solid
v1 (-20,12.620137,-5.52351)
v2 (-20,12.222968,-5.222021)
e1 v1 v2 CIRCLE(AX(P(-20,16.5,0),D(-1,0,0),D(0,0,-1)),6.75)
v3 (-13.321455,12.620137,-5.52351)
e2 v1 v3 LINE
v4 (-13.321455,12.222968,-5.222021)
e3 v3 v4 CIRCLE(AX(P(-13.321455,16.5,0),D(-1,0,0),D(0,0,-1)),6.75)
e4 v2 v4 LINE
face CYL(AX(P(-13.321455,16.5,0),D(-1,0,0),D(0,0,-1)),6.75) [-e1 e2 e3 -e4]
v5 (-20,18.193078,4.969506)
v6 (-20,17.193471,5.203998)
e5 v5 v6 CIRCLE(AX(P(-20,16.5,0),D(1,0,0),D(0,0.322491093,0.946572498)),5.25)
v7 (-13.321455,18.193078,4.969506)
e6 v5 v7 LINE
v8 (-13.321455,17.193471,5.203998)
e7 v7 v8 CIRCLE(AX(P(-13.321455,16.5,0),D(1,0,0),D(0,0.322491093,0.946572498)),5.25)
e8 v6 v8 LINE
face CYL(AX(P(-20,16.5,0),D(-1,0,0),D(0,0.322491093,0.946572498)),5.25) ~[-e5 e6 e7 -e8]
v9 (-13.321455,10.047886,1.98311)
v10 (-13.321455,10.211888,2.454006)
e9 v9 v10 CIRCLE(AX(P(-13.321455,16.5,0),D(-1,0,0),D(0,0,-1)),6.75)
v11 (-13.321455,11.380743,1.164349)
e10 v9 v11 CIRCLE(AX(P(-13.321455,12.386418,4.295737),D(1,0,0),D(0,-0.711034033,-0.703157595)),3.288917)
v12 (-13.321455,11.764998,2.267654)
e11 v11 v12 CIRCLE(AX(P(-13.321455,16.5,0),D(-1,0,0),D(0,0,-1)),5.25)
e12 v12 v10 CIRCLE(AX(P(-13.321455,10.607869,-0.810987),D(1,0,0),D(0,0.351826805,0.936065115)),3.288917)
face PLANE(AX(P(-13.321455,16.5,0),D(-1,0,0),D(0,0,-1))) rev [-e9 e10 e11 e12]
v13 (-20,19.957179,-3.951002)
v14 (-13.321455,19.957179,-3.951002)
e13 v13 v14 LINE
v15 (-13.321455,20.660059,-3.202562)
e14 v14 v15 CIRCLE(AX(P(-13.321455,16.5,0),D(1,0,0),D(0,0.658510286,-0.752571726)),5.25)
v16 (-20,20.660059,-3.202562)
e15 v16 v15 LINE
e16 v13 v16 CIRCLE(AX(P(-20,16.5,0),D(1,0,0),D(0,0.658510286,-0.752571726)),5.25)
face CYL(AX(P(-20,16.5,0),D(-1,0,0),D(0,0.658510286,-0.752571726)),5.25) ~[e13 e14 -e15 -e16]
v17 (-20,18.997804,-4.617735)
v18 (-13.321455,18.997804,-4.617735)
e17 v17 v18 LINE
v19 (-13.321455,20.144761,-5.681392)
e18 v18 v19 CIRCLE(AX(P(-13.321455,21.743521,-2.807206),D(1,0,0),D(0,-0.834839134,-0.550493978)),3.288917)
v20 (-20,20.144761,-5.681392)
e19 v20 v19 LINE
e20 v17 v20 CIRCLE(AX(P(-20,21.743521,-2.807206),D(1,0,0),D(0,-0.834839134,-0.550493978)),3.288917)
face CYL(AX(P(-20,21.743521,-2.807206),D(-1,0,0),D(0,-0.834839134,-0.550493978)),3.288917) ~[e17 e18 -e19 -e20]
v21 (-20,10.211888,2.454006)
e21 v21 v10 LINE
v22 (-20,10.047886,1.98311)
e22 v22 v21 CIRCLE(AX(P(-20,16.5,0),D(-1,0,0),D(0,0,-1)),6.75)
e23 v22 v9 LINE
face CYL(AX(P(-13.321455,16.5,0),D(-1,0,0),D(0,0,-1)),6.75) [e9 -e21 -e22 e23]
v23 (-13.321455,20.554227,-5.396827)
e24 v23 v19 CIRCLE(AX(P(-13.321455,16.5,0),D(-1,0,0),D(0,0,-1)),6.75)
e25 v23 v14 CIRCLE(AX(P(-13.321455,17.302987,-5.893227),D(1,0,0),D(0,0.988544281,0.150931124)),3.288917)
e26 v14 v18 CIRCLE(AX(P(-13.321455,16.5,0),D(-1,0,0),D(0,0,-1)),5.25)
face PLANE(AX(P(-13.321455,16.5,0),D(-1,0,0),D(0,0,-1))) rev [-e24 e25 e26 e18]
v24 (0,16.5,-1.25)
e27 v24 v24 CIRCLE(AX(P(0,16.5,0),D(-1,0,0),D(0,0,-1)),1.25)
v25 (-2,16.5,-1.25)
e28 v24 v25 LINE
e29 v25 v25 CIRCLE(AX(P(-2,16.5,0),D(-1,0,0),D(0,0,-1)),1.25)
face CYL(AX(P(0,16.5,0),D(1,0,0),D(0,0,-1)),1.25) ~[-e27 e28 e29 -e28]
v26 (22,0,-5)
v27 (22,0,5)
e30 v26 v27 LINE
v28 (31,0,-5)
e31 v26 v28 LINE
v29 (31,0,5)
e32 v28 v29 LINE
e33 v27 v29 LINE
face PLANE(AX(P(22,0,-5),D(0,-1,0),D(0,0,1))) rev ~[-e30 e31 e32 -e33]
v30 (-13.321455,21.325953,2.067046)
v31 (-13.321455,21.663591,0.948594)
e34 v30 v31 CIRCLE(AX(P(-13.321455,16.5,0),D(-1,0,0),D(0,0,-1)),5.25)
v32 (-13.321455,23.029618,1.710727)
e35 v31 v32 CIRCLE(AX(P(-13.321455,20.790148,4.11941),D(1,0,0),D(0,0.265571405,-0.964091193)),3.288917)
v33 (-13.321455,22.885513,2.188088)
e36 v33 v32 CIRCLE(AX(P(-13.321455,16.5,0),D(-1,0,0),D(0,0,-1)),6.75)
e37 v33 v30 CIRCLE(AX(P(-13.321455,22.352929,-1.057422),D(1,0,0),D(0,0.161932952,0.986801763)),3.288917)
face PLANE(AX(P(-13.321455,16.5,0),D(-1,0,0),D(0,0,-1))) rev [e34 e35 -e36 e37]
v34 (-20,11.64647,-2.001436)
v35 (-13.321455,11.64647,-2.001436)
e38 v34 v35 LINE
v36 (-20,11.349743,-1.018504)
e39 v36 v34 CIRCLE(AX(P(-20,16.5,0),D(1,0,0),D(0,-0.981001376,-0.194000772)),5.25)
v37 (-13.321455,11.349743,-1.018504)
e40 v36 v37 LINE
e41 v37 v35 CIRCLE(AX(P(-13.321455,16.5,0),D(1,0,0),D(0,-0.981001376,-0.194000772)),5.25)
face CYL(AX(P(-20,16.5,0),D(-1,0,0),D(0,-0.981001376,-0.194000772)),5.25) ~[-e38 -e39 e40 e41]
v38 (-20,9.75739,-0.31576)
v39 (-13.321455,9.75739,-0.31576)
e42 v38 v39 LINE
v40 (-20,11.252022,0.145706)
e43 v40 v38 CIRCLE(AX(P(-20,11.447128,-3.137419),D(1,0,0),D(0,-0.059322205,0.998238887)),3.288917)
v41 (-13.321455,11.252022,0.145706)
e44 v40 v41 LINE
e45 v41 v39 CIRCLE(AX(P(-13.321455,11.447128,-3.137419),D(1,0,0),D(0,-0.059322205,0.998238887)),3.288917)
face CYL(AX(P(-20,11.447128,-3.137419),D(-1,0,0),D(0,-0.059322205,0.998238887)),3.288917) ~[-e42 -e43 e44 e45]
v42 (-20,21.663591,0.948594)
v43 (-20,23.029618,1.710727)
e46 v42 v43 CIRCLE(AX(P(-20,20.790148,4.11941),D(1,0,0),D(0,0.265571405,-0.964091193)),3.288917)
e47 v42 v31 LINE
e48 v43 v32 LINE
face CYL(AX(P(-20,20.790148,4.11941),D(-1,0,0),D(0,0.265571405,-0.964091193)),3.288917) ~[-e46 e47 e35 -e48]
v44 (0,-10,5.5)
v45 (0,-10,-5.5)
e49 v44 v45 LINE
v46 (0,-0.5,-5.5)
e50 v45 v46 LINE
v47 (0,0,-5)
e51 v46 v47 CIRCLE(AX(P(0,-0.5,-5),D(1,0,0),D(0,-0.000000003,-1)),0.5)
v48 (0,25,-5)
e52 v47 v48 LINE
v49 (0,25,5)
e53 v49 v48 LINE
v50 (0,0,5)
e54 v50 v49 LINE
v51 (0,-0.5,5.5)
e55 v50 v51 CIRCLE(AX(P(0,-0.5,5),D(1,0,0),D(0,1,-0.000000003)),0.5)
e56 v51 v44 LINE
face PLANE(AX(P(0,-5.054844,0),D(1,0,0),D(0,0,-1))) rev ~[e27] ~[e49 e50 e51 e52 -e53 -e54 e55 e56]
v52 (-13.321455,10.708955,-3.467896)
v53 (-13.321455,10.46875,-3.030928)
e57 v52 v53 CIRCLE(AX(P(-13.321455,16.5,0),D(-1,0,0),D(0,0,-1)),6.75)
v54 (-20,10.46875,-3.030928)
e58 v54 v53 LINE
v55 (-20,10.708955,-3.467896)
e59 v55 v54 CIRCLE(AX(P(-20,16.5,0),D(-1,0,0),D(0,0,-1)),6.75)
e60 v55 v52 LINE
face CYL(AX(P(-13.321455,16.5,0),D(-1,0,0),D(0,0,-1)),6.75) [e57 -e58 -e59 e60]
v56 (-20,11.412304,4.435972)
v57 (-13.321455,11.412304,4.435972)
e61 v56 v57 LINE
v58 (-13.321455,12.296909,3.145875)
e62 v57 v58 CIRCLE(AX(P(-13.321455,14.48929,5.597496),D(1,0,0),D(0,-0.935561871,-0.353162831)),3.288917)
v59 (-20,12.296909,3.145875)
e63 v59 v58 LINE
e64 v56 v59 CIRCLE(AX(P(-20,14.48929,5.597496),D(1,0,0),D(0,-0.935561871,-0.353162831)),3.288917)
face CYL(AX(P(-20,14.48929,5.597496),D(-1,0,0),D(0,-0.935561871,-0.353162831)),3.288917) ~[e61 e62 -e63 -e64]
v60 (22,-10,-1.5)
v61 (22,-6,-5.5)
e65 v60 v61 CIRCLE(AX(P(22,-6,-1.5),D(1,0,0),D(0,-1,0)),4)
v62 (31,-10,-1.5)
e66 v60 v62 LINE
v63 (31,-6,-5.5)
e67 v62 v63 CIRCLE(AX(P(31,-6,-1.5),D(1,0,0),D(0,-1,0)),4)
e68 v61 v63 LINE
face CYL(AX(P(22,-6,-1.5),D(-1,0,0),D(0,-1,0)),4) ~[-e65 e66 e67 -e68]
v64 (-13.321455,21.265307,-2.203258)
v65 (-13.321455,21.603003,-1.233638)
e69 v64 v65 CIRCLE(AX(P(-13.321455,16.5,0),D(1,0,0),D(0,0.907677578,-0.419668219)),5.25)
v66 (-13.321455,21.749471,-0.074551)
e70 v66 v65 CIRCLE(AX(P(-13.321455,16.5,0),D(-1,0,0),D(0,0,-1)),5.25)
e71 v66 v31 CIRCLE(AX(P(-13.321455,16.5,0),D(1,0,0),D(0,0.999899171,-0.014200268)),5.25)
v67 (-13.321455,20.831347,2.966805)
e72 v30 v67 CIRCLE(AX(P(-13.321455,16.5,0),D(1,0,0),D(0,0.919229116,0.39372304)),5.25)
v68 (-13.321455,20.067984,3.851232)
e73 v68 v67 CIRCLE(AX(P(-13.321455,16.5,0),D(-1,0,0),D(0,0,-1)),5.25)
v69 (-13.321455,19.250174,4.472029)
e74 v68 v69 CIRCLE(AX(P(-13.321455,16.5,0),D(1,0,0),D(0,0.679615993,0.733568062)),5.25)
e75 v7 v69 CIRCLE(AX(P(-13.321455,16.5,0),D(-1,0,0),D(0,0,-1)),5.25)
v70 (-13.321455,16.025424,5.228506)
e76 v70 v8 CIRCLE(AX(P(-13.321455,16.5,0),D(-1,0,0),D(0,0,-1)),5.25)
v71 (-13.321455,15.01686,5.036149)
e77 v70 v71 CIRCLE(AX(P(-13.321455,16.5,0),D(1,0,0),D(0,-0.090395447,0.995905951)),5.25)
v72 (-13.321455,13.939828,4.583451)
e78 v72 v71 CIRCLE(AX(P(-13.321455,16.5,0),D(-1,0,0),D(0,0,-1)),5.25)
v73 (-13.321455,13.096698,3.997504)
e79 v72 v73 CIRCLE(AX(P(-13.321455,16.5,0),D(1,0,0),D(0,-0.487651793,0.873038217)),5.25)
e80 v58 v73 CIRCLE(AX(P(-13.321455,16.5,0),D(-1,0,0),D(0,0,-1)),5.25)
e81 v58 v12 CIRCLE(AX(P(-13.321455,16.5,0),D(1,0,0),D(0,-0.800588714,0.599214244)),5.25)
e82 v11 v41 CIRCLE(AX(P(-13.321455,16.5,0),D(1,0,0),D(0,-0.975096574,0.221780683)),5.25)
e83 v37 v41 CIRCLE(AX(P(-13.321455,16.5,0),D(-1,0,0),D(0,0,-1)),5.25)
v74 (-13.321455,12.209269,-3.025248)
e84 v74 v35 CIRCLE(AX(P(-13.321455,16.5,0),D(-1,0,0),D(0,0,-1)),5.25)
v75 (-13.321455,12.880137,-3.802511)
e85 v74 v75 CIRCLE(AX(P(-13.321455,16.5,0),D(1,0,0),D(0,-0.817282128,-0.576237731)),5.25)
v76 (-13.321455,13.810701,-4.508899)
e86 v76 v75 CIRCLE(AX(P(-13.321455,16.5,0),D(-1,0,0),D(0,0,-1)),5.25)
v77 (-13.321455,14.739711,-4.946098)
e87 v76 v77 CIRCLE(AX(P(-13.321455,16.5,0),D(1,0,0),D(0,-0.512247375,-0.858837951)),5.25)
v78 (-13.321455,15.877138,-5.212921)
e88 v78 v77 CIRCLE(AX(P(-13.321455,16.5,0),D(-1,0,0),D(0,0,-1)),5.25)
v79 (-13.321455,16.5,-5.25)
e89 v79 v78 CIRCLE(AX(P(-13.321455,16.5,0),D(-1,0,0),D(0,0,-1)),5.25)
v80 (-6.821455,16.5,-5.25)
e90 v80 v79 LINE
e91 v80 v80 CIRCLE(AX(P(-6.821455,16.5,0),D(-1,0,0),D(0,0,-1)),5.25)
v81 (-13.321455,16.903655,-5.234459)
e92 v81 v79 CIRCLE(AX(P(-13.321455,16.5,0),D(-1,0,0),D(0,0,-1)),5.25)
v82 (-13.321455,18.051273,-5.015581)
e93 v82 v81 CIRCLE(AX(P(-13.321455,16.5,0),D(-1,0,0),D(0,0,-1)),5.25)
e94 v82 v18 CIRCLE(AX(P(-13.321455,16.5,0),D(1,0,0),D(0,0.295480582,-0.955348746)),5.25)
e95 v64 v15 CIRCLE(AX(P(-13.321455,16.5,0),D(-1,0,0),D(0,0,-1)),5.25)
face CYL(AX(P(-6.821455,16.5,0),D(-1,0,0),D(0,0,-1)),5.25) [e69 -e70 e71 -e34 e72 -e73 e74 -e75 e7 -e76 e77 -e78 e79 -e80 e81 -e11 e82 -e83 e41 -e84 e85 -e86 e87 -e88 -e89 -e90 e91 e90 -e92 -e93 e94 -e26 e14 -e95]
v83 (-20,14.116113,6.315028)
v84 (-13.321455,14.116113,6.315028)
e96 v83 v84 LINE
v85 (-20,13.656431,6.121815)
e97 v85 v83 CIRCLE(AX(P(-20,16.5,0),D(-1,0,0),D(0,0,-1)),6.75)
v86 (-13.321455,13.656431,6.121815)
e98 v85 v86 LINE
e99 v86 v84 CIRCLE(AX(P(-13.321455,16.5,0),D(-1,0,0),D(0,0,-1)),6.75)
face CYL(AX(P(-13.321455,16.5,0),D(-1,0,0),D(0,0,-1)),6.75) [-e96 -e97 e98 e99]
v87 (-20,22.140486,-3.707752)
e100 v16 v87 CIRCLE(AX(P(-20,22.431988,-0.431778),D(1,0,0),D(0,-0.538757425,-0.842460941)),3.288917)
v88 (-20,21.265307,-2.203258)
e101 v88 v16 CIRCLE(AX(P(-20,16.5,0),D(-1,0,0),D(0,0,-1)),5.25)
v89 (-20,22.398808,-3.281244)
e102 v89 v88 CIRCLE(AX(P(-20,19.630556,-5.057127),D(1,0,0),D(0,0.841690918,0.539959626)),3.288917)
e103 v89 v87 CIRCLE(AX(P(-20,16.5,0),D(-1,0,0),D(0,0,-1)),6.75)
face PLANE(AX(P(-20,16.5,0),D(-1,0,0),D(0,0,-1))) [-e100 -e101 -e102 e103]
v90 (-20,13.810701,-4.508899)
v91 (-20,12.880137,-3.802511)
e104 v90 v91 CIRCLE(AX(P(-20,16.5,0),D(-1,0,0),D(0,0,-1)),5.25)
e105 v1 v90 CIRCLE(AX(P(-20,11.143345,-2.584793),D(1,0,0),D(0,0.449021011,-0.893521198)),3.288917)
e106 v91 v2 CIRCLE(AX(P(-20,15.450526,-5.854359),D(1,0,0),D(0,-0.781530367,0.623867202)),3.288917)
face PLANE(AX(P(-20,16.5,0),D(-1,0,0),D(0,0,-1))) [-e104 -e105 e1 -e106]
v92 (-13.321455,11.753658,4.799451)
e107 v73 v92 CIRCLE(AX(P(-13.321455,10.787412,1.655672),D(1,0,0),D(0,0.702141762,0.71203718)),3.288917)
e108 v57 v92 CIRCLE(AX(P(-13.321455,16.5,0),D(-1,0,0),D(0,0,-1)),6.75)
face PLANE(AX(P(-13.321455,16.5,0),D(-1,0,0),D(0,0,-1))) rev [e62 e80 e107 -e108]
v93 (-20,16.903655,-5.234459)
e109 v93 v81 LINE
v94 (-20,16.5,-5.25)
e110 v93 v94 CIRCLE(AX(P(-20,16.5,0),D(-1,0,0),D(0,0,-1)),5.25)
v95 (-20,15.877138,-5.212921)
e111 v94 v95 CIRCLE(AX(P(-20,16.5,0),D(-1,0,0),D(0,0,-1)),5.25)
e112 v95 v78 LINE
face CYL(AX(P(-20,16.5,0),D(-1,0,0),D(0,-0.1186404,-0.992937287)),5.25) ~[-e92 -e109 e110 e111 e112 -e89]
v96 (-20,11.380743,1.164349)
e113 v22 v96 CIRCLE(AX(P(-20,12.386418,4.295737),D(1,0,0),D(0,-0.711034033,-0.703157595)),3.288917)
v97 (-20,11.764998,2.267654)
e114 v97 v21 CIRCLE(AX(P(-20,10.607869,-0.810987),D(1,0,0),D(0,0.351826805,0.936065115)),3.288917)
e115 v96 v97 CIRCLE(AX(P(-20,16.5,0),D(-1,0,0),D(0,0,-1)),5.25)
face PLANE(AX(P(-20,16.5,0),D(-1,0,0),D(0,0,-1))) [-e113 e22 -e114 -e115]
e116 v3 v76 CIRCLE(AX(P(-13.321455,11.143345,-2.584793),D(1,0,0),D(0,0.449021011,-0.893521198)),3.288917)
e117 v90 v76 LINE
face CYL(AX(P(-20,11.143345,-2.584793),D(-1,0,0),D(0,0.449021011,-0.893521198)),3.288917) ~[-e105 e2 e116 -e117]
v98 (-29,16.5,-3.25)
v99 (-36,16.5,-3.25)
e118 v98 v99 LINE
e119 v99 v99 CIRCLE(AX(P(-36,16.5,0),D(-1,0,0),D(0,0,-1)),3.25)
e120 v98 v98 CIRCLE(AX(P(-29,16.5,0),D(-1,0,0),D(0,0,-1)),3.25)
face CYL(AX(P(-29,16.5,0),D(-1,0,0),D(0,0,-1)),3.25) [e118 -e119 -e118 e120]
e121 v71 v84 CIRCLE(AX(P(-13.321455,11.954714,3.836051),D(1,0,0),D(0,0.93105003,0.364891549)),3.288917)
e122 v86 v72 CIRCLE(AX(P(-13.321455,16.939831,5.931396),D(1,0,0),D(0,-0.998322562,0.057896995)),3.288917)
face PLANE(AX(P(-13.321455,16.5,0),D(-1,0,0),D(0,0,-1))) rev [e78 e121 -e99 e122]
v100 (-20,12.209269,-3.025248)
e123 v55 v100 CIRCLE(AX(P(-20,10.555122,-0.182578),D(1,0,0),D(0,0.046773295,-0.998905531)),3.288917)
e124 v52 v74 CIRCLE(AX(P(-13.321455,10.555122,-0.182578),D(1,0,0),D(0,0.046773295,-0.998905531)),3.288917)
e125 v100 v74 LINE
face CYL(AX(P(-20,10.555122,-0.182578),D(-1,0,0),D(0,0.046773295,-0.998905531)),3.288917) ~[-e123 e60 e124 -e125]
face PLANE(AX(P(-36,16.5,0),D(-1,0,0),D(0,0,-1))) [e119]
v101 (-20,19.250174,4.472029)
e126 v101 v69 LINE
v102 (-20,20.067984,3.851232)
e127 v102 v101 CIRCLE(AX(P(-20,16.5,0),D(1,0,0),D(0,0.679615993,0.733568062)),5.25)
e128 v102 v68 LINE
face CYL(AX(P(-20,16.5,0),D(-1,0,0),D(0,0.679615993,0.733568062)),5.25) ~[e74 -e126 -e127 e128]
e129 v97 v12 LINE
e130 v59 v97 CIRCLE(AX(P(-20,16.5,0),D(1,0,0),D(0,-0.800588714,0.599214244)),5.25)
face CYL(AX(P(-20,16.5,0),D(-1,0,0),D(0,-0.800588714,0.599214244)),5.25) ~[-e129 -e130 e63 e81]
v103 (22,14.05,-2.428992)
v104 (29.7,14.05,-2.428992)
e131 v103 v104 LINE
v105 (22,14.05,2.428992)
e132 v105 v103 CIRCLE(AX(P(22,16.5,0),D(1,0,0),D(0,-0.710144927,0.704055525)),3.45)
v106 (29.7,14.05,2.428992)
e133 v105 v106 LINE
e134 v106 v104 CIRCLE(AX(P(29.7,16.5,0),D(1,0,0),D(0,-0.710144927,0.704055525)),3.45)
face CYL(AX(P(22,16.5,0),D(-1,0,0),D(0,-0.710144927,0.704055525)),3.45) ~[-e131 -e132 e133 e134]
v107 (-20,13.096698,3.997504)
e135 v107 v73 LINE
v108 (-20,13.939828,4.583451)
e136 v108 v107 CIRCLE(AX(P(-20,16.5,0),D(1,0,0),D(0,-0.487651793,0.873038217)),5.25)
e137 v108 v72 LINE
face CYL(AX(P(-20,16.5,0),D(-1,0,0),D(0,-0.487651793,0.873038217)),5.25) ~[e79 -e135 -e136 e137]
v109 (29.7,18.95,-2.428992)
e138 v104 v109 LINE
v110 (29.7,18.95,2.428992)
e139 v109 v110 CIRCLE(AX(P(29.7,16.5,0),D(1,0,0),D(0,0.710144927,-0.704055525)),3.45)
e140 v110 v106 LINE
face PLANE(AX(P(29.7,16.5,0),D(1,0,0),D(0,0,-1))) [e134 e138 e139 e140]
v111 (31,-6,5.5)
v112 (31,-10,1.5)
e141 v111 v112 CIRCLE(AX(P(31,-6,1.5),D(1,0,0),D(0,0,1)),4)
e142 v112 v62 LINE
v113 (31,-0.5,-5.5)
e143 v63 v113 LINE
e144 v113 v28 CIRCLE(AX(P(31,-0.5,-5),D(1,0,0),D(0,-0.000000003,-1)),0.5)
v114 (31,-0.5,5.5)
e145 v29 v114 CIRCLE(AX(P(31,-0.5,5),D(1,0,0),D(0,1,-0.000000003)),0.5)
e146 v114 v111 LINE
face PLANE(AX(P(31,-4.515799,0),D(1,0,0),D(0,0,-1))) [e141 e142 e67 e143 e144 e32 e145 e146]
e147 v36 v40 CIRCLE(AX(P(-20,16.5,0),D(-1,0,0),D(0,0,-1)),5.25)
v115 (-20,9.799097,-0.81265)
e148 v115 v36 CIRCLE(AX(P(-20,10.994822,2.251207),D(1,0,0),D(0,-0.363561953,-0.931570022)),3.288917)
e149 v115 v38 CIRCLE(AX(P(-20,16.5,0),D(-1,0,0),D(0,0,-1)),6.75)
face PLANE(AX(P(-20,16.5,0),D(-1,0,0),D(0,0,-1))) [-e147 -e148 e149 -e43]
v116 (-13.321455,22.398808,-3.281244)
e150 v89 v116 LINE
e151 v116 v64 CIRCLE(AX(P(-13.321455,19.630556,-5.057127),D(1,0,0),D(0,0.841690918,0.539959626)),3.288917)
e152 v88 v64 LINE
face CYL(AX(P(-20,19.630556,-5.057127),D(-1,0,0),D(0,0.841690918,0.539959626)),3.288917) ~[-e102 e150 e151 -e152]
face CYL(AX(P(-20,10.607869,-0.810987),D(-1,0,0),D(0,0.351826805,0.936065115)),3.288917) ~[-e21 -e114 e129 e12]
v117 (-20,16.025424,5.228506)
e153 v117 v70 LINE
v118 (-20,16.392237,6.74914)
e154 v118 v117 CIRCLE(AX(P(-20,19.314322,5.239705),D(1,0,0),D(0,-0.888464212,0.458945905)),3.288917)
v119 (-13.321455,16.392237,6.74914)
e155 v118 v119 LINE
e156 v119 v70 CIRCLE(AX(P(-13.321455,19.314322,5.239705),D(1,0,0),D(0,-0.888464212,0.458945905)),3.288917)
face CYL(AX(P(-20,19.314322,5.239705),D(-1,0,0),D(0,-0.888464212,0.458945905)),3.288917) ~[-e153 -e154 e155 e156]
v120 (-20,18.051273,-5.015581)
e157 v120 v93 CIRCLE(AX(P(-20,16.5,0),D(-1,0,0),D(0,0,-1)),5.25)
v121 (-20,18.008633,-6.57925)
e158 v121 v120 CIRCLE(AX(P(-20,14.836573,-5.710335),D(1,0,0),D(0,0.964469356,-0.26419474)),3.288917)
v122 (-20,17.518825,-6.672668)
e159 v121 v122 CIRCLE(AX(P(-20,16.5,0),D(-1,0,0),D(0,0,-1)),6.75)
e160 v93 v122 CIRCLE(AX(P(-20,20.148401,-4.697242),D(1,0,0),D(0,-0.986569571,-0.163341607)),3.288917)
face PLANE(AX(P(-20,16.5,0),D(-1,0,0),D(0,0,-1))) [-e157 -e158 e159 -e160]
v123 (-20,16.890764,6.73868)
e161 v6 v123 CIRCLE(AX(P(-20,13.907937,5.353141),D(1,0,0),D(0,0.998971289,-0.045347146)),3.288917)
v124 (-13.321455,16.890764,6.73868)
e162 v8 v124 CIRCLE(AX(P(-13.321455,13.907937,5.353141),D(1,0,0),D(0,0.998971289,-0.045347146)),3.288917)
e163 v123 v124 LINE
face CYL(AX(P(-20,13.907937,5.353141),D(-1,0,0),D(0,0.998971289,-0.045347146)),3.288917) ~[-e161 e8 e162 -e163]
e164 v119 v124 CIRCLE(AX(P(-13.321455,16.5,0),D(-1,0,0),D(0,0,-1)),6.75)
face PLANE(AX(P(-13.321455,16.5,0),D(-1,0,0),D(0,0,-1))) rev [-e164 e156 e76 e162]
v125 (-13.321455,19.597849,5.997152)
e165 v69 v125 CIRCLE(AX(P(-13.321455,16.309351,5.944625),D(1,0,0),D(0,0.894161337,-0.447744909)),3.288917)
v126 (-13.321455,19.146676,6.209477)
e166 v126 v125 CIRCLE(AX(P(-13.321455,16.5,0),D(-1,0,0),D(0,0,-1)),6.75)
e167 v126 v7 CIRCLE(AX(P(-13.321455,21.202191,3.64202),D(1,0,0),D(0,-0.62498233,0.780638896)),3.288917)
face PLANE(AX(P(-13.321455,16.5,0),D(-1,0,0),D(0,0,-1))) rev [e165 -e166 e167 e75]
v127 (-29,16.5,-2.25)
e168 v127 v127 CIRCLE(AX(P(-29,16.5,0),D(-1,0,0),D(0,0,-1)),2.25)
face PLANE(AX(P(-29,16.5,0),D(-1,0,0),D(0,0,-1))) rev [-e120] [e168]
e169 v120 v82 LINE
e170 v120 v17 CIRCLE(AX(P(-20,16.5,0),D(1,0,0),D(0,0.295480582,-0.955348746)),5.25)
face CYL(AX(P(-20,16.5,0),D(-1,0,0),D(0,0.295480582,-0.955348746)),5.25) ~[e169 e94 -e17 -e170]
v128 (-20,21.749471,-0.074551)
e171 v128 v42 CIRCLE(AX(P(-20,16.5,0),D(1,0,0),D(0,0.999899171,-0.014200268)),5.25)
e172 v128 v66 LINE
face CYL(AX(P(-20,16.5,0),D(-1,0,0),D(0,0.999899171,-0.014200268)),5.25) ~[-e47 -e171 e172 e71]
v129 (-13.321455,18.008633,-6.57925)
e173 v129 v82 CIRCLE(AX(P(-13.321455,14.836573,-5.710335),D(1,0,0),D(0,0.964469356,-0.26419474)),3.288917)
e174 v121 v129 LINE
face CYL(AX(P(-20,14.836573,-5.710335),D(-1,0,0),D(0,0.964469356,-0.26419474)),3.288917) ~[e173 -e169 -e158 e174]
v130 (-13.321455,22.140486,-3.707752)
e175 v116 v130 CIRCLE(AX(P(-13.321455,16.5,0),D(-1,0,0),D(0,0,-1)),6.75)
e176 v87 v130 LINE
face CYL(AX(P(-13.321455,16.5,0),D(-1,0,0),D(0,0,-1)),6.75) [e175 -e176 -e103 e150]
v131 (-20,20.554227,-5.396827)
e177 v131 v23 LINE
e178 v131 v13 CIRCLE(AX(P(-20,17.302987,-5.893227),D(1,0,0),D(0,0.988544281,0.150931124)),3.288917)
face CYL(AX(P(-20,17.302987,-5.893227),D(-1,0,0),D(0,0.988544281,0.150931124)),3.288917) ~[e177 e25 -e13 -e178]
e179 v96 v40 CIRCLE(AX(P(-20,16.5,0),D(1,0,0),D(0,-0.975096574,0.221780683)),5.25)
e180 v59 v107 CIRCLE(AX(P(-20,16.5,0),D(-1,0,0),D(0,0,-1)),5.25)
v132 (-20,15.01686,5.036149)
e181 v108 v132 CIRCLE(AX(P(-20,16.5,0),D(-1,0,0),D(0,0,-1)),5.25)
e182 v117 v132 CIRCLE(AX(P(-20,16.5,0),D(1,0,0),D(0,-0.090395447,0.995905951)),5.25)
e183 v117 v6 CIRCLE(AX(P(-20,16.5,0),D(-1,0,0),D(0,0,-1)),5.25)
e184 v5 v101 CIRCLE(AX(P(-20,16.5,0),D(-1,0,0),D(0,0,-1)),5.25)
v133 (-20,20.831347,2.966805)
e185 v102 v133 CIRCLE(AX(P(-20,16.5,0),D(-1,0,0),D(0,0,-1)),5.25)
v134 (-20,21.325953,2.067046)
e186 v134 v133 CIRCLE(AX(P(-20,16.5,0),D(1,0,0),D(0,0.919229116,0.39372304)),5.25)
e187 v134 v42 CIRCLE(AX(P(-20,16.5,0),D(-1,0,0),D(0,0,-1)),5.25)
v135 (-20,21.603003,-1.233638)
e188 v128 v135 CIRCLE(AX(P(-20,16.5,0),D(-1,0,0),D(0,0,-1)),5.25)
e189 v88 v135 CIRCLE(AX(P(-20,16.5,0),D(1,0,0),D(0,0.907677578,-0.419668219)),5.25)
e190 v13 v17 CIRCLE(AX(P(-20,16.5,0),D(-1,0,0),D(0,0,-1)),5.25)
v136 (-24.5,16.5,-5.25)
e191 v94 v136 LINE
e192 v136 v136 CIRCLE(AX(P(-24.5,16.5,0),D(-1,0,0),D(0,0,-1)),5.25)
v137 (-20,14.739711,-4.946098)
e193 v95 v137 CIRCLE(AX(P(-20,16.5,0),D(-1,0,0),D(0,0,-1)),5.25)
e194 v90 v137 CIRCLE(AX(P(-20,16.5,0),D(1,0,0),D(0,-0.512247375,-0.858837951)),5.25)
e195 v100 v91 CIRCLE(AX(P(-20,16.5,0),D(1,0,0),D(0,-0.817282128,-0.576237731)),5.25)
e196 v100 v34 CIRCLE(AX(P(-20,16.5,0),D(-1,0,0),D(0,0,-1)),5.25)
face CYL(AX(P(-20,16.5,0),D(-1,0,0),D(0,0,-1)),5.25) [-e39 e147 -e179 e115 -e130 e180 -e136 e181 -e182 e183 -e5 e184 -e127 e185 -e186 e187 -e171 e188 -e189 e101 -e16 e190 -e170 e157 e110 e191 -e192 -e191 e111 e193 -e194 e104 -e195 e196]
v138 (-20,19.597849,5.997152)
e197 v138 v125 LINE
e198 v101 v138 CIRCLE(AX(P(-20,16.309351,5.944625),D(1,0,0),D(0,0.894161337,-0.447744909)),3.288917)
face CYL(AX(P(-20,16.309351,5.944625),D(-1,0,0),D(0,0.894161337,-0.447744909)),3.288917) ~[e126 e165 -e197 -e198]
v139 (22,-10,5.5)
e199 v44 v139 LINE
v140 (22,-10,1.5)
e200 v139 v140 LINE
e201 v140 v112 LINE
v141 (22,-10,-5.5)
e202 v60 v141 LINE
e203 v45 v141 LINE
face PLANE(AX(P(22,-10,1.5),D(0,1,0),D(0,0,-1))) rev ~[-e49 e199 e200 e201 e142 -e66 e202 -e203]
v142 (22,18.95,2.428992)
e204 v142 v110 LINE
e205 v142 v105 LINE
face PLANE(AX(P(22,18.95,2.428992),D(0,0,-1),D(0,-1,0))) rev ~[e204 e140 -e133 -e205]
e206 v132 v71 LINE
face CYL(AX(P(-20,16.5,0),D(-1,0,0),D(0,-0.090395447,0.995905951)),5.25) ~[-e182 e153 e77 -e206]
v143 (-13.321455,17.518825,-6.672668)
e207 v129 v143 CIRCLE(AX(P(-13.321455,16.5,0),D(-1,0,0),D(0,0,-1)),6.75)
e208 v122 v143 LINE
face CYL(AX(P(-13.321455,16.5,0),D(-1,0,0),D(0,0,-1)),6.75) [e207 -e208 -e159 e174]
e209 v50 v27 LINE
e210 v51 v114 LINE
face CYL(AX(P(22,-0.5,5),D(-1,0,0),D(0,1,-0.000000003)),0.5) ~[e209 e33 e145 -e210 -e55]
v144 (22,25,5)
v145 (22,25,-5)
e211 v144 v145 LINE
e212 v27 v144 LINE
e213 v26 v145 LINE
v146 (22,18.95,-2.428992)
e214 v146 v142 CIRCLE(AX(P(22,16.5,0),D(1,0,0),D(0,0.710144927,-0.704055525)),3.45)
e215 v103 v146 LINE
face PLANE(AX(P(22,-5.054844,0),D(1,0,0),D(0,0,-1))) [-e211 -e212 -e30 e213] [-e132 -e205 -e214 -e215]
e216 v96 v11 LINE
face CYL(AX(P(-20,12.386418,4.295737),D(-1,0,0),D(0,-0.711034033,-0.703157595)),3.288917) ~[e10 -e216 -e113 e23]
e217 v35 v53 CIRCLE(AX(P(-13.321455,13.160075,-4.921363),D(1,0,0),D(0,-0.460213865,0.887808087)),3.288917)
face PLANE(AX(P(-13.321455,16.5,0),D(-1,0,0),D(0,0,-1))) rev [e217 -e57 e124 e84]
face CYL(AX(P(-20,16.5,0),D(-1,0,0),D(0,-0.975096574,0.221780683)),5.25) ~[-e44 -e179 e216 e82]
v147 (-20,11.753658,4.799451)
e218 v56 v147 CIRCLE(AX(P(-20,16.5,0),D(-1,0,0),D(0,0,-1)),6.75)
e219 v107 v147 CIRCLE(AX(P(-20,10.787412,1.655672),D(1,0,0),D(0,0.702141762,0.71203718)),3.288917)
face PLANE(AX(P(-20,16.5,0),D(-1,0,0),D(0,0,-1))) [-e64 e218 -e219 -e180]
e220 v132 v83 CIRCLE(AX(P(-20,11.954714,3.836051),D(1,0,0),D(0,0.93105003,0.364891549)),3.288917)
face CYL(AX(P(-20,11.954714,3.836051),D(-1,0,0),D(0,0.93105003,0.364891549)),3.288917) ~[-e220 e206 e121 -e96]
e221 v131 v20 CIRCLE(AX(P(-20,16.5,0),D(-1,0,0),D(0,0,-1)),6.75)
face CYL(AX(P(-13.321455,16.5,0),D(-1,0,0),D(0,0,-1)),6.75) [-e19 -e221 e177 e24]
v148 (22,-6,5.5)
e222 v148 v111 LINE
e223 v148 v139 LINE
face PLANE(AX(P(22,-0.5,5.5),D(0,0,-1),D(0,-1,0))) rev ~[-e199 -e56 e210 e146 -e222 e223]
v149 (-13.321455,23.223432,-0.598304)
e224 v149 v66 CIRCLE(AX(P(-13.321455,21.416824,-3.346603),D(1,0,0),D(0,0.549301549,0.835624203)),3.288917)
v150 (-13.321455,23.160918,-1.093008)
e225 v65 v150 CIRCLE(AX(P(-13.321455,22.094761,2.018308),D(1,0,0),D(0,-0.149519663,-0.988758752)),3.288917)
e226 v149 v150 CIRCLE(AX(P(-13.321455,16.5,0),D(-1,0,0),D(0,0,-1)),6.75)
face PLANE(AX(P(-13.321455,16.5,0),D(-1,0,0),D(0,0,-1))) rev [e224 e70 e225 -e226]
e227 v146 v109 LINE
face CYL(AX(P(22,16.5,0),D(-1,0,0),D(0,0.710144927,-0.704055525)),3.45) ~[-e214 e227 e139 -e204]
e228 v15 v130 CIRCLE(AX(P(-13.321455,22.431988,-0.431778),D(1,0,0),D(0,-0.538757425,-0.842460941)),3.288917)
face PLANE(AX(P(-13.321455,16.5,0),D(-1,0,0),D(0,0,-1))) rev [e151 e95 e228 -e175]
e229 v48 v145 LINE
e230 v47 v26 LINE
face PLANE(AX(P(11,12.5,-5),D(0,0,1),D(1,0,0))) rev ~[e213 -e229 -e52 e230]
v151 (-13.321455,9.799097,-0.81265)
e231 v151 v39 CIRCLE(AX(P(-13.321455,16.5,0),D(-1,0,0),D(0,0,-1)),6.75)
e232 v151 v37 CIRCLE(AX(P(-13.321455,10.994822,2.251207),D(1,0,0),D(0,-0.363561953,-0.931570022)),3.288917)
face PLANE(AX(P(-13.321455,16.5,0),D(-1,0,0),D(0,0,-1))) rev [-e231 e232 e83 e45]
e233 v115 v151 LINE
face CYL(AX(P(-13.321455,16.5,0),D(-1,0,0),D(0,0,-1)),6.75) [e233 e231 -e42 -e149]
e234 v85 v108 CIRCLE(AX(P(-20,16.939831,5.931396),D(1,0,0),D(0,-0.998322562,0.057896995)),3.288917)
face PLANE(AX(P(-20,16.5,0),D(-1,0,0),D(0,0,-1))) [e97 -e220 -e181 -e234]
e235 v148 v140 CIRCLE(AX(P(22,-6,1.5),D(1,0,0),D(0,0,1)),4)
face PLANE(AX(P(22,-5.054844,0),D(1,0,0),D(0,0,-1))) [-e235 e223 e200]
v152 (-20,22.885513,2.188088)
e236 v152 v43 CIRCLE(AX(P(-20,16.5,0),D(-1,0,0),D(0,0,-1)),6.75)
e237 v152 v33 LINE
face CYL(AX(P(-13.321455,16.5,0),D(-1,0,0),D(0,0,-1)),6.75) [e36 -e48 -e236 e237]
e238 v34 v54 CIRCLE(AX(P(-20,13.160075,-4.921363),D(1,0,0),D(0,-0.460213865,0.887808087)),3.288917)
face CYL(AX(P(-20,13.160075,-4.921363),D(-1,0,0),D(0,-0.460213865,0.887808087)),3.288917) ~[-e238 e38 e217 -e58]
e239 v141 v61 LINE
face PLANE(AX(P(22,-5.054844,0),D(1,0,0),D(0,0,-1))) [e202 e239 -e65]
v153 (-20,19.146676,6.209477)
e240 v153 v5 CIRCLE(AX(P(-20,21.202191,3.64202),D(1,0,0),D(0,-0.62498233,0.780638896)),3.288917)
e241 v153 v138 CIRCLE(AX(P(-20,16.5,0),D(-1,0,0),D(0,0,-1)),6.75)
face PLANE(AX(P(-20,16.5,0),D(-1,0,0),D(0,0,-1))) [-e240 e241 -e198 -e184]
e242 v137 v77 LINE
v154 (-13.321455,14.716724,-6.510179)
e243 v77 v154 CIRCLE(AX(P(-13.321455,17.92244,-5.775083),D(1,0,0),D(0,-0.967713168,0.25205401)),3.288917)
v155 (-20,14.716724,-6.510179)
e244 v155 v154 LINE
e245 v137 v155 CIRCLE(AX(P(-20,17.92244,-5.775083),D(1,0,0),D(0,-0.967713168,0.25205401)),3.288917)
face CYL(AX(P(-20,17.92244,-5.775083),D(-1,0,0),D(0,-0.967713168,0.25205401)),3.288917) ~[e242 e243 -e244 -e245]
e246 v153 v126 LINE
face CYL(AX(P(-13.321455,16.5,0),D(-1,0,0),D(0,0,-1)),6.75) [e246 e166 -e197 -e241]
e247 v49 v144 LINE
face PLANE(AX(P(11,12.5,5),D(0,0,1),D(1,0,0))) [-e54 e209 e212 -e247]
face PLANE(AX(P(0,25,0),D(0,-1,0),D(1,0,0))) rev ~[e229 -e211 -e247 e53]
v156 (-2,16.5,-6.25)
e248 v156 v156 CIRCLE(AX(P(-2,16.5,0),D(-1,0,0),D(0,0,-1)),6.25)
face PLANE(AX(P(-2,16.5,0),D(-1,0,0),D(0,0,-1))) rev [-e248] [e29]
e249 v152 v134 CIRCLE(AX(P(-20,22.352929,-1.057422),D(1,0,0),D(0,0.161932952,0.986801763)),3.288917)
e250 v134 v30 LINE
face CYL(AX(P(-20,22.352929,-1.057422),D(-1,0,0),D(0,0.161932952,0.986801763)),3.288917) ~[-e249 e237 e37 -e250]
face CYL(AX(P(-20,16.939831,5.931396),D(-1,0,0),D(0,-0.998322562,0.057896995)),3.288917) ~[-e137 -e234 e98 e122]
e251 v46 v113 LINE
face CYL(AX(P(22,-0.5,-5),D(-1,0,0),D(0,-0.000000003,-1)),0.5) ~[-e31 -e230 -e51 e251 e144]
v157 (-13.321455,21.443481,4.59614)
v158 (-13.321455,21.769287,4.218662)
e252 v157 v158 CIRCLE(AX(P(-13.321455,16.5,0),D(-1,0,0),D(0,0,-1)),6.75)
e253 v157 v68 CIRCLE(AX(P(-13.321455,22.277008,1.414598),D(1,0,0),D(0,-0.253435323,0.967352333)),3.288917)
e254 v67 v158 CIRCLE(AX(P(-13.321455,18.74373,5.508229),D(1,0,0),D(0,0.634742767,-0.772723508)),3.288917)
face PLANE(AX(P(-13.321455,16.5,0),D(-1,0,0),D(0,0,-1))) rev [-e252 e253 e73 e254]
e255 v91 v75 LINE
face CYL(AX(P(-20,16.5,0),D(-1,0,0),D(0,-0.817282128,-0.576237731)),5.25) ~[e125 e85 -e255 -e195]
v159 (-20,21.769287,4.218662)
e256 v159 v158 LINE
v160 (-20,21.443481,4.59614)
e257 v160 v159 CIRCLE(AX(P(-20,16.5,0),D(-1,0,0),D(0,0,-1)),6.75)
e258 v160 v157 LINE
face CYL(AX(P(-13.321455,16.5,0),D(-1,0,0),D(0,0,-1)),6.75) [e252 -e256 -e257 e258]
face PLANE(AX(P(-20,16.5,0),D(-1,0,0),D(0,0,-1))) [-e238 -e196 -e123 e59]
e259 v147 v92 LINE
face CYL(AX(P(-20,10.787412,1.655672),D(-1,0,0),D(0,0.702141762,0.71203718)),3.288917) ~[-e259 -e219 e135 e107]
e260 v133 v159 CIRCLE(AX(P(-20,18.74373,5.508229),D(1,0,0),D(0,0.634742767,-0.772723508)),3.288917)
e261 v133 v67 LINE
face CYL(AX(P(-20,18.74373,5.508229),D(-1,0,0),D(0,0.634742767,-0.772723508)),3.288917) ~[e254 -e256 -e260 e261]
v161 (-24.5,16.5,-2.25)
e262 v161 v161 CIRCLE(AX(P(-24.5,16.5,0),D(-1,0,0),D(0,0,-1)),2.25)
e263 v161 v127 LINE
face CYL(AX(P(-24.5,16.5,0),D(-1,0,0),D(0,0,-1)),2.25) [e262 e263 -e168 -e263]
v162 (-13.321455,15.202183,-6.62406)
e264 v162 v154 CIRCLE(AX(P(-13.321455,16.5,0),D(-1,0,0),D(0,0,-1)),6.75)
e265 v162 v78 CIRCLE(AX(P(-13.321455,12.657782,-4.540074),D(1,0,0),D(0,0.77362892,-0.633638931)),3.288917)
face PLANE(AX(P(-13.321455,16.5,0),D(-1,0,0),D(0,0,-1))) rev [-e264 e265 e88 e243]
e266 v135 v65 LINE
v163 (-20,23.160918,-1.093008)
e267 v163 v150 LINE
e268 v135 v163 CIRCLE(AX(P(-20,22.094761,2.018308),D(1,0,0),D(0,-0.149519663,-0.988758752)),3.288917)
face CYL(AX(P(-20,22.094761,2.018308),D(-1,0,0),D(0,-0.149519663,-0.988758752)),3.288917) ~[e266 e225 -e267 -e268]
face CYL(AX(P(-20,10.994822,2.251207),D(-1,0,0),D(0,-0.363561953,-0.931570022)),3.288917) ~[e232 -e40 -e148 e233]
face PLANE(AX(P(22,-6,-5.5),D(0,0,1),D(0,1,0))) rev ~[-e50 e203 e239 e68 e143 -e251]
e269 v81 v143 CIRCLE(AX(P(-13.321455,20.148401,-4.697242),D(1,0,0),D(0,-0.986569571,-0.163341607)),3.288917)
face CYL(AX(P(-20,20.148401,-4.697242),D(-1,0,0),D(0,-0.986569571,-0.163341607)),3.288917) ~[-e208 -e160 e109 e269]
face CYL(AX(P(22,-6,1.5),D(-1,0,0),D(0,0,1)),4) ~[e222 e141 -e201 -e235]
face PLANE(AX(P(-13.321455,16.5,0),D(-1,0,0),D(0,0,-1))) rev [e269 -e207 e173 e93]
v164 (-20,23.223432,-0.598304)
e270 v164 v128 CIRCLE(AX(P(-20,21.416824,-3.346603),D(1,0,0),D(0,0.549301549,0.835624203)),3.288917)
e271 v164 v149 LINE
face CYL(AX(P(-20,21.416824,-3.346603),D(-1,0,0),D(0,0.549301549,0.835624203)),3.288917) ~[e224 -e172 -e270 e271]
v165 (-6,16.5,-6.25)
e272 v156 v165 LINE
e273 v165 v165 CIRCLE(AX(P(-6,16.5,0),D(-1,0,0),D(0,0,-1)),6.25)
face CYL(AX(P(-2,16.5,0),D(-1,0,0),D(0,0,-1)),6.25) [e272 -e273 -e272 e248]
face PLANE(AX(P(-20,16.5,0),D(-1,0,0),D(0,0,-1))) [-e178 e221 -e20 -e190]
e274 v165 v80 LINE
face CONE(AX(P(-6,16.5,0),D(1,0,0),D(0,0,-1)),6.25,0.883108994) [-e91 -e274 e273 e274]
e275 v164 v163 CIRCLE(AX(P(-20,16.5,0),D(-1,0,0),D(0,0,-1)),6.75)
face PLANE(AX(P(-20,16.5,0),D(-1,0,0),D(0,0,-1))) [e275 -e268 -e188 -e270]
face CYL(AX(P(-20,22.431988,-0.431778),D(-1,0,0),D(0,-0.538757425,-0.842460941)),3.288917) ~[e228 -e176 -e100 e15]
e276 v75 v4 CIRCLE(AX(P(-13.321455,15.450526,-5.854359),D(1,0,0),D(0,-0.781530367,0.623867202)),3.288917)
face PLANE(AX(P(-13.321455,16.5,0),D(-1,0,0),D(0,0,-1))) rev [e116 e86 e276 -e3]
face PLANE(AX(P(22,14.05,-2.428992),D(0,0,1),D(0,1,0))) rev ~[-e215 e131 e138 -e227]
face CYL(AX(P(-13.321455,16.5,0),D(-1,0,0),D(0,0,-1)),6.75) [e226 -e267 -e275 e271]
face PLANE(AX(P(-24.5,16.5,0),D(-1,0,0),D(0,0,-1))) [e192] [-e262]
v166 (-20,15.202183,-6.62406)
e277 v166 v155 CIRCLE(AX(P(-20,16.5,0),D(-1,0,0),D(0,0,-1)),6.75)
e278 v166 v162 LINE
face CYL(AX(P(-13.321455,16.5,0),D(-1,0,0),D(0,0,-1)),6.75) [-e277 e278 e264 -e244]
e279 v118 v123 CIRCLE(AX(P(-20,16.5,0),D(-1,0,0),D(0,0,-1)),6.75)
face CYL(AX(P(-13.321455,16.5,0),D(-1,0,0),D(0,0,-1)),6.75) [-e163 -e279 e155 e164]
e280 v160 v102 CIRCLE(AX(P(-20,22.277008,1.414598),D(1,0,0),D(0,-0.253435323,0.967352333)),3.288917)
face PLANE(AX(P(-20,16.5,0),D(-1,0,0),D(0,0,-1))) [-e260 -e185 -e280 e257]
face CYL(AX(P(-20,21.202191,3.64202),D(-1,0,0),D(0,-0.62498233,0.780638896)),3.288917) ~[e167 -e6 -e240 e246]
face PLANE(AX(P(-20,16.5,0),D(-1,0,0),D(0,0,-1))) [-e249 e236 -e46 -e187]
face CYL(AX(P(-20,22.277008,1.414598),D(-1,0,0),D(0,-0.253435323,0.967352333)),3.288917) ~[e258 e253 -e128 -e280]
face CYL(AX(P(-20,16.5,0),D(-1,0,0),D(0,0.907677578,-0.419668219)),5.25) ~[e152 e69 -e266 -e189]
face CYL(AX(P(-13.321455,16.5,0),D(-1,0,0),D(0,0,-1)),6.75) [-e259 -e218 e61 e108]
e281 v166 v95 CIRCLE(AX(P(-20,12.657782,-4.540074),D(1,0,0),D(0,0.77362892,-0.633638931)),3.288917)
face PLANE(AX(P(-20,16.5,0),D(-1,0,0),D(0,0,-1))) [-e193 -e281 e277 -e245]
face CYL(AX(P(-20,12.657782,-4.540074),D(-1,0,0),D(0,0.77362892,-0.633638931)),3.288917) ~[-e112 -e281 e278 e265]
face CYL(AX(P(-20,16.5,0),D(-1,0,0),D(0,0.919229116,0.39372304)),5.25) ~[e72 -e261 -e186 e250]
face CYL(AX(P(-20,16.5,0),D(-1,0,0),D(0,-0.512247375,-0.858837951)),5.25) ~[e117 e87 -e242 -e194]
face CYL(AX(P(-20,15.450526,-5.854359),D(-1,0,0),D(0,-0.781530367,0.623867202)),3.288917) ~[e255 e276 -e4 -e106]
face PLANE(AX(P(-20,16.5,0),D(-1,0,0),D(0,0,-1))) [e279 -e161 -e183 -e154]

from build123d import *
from build123d.topology import SkipClean

# Parameters (mm, degrees)
ESQUISSE1_W             = 22
ESQUISSE1_H             = 25
EXTRUSION1_DEPTH        = 5
EXTRUSION2_DEPTH        = 22
EXTRUSION3_DEPTH        = 9
EXTRUSION4_DEPTH        = 7.7
ESQUISSE6_R             = 1.25
EXTRUSION5_DEPTH        = 36
ENL_V_MAT_EXTRU_2_DEPTH = 6.678544503


with BuildPart() as part:
    # Esquisse1 → Extrusion1 (new, symmetric)
    with BuildSketch(Plane.XY):
        with Locations((11, 12.5)):
            Rectangle(ESQUISSE1_W, ESQUISSE1_H)
    extrude(amount=EXTRUSION1_DEPTH, both=True)

    # Esquisse2 → Extrusion2 (add)
    with BuildSketch(Plane.ZY):
        with BuildLine():
            Line((-5, 0), (5, 0))
            ThreePointArc((5, 0), (5.353553391, -0.146446609), (5.5, -0.5))
            Line((5.5, -0.5), (5.5, -10))
            Line((5.5, -10), (-5.5, -10))
            Line((-5.5, -10), (-5.5, -0.5))
            ThreePointArc((-5.5, -0.5), (-5.353553391, -0.146446609), (-5, 0))
        make_face()
    extrude(amount=-EXTRUSION2_DEPTH)

    # Esquisse4 → Extrusion3 (add)
    with BuildSketch(Plane(origin=(22, 0, 0), x_dir=(0, 0, -1), z_dir=(1, 0, 0))):
        with BuildLine():
            Line((5.5, -6), (5.5, -0.5))
            ThreePointArc((5.5, -0.5), (5.353553391, -0.146446609), (5, 0))
            Line((5, 0), (-5, 0))
            ThreePointArc((-5, 0), (-5.353553391, -0.146446609), (-5.5, -0.5))
            Line((-5.5, -0.5), (-5.5, -6))
            ThreePointArc((-5.5, -6), (-4.328427125, -8.828427125), (-1.5, -10))
            Line((-1.5, -10), (1.5, -10))
            ThreePointArc((1.5, -10), (4.328427125, -8.828427125), (5.5, -6))
        make_face()
    extrude(amount=EXTRUSION3_DEPTH)

    # Esquisse5 → Extrusion4 (add)
    with BuildSketch(Plane(origin=(22, 0, 0), x_dir=(0, 0, -1), z_dir=(1, 0, 0))):
        with BuildLine():
            Line((-2.42899156, 18.95), (-2.42899156, 14.05))
            ThreePointArc((-2.42899156, 14.05), (0, 13.05), (2.42899156, 14.05))
            Line((2.42899156, 14.05), (2.42899156, 18.95))
            ThreePointArc((2.42899156, 18.95), (0, 19.95), (-2.42899156, 18.95))
        make_face()
    extrude(amount=EXTRUSION4_DEPTH)

    # Esquisse6 → Extrusion5 (add)
    with BuildSketch(Plane.ZY):
        with Locations(Location((0, 16.5, 0), (0, 0, 180))):
            Circle(ESQUISSE6_R)
    extrude(amount=EXTRUSION5_DEPTH)

    # Esquisse7 → Révolution1 (revolve)
    with BuildSketch(Plane.XY, mode=Mode.PRIVATE) as r_volution1_sk:
        Polygon((-2, 17.75), (-2, 22.75), (-6, 22.75), (-6.821455497, 21.75), (-13.321455497, 21.75), (-13.321455497, 23.25), (-20, 23.25), (-20, 21.75), (-24.5, 21.75), (-24.5, 18.75), (-29, 18.75), (-29, 19.75), (-36, 19.75), (-36, 17.75), align=None)
    revolve(r_volution1_sk.sketch.rotate(Axis((0, 16.5, 0), (-1, 0, 0)), 90), axis=Axis((0, 16.5, 0), (-1, 0, 0)))

    # Esquisse8 → Enlèv. mat.-Extru.2 (cut)
    with SkipClean():  # the faces are left unmerged after this step: merging them gives an invalid solid
        with BuildSketch(Plane.ZY.offset(20)):
            with BuildLine():
                ThreePointArc((-3.202562433, 20.660059358), (-3.544451524, 21.369801094), (-3.707751714, 22.140485549))
                ThreePointArc((-3.707751714, 22.140485549), (-4.620864959, 21.420376716), (-5.396827126, 20.554227049))
                ThreePointArc((-5.396827126, 20.554227049), (-4.63790237, 20.342910474), (-3.951001573, 19.957178991))
                ThreePointArc((-3.951001573, 19.957178991), (-3.594006079, 20.326959668), (-3.202562433, 20.660059358))
            make_face()
            with BuildLine():
                ThreePointArc((-1.233637785, 21.603002823), (-1.25729104, 22.390442983), (-1.093007579, 23.160918438))
                ThreePointArc((-1.093007579, 23.160918438), (-2.220072686, 22.874462901), (-3.281244207, 22.398808054))
                ThreePointArc((-3.281244207, 22.398808054), (-2.673882137, 21.897078248), (-2.203258163, 21.26530728))
                ThreePointArc((-2.203258163, 21.26530728), (-1.7267232, 21.457915589), (-1.233637785, 21.603002823))
            make_face()
            with BuildLine():
                ThreePointArc((0.948594043, 21.663590741), (1.247266486, 22.392573768), (1.710727497, 23.029618016))
                ThreePointArc((1.710727497, 23.029618016), (0.564590324, 23.226346539), (-0.598304355, 23.223431557))
                ThreePointArc((-0.598304355, 23.223431557), (-0.247523392, 22.518042162), (-0.0745514, 21.749470648))
                ThreePointArc((-0.0745514, 21.749470648), (0.439125807, 21.731602864), (0.948594043, 21.663590741))
            make_face()
            with BuildLine():
                ThreePointArc((4.218662246, 21.769287319), (3.251630537, 22.415183754), (2.188087756, 22.885512663))
                ThreePointArc((2.188087756, 22.885512663), (2.221634397, 22.098431915), (2.067045976, 21.325952852))
                ThreePointArc((2.067045976, 21.325952852), (2.529045974, 21.100698476), (2.966805343, 20.83134691))
                ThreePointArc((2.966805343, 20.83134691), (3.536160307, 21.375825016), (4.218662246, 21.769287319))
            make_face()
            with BuildLine():
                ThreePointArc((5.997151968, 19.597848975), (5.376434291, 20.581231961), (4.596139615, 21.44348062))
                ThreePointArc((4.596139615, 21.44348062), (4.306651415, 20.710801929), (3.851232325, 20.067983966))
                ThreePointArc((3.851232325, 20.067983966), (4.181671115, 19.674291525), (4.472029047, 19.250173849))
                ThreePointArc((4.472029047, 19.250173849), (5.213619885, 19.516001823), (5.997151968, 19.597848975))
            make_face()
            with BuildLine():
                ThreePointArc((6.738679632, 16.8907644), (6.571603712, 18.041598084), (6.209477181, 19.146675867))
                ThreePointArc((6.209477181, 19.146675867), (5.647009279, 18.595086036), (4.969505618, 18.193078237))
                ThreePointArc((4.969505618, 18.193078237), (5.111247332, 17.699020732), (5.203998302, 17.193470745))
                ThreePointArc((5.203998302, 17.193470745), (5.98959722, 17.134684515), (6.738679632, 16.8907644))
            make_face()
            with BuildLine():
                ThreePointArc((6.315028369, 14.116113111), (6.63048315, 15.235407894), (6.74913973, 16.392236812))
                ThreePointArc((6.74913973, 16.392236812), (6.010947937, 16.117110733), (5.228506242, 16.0254239))
                ThreePointArc((5.228506242, 16.0254239), (5.15704245, 15.516428362), (5.036148973, 15.016860249))
                ThreePointArc((5.036148973, 15.016860249), (5.729918783, 14.643624489), (6.315028369, 14.116113111))
            make_face()
            with BuildLine():
                ThreePointArc((4.79945133, 11.753657521), (5.542891816, 12.647877167), (6.121814706, 13.656430992))
                ThreePointArc((6.121814706, 13.656430992), (5.335539089, 13.705340464), (4.583450638, 13.939828082))
                ThreePointArc((4.583450638, 13.939828082), (4.311138079, 13.503904463), (3.997503735, 13.09669809))
                ThreePointArc((3.997503735, 13.09669809), (4.479485333, 12.473548654), (4.79945133, 11.753657521))
            make_face()
            with BuildLine():
                ThreePointArc((2.454005555, 10.211887665), (3.496884131, 10.726413474), (4.435972305, 11.412304086))
                ThreePointArc((4.435972305, 11.412304086), (3.737567061, 11.776792217), (3.145874779, 12.296909248))
                ThreePointArc((3.145874779, 12.296909248), (2.719798768, 12.009432702), (2.267653785, 11.76499775))
                ThreePointArc((2.267653785, 11.76499775), (2.454508175, 10.999682835), (2.454005555, 10.211887665))
            make_face()
            with BuildLine():
                ThreePointArc((-4.617734942, 18.997803837), (-5.218744139, 19.507126354), (-5.681391894, 20.144761467))
                ThreePointArc((-5.681391894, 20.144761467), (-6.222667702, 19.115512697), (-6.579249607, 18.008633356))
                ThreePointArc((-6.579249607, 18.008633356), (-5.799987148, 18.124268567), (-5.015580917, 18.051273047))
                ThreePointArc((-5.015580917, 18.051273047), (-4.839852657, 18.534287653), (-4.617734942, 18.997803837))
            make_face()
            with BuildLine():
                ThreePointArc((-5.234459128, 16.90365534), (-5.990668481, 17.124492149), (-6.672667801, 17.518825015))
                ThreePointArc((-6.672667801, 17.518825015), (-6.748514668, 16.358402772), (-6.624060061, 15.202183251))
                ThreePointArc((-6.624060061, 15.202183251), (-5.959201458, 15.624775868), (-5.212920756, 15.8771379))
                ThreePointArc((-5.212920756, 15.8771379), (-5.248844742, 16.389868823), (-5.234459128, 16.90365534))
            make_face()
            with BuildLine():
                ThreePointArc((-4.946097778, 14.739711168), (-5.72675182, 14.633877579), (-6.510178827, 14.716724463))
                ThreePointArc((-6.510178827, 14.716724463), (-6.10748214, 13.625776294), (-5.523510351, 12.620137451))
                ThreePointArc((-5.523510351, 12.620137451), (-5.088015698, 13.276617374), (-4.508899238, 13.810701269))
                ThreePointArc((-4.508899238, 13.810701269), (-4.750263886, 14.264492673), (-4.946097778, 14.739711168))
            make_face()
            with BuildLine():
                ThreePointArc((-2.001435869, 11.646469897), (-2.445145697, 10.995514391), (-3.030927918, 10.46875005))
                ThreePointArc((-3.030927918, 10.46875005), (-1.950738753, 10.0380252), (-0.812650054, 9.799097084))
                ThreePointArc((-0.812650054, 9.799097084), (-1.00910691, 10.562003491), (-1.018504045, 11.349742772))
                ThreePointArc((-1.018504045, 11.349742772), (-1.517241252, 11.4740196), (-2.001435869, 11.646469897))
            make_face()
            with BuildLine():
                ThreePointArc((-0.315760074, 9.757389558), (0.846233411, 9.803255342), (1.983109992, 10.047886024))
                ThreePointArc((1.983109992, 10.047886024), (1.493335733, 10.664929505), (1.164348592, 11.380742988))
                ThreePointArc((1.164348592, 11.380742988), (0.658181542, 11.291420822), (0.145705895, 11.252022314))
                ThreePointArc((0.145705895, 11.252022314), (0.005124254, 10.476871823), (-0.315760074, 9.757389558))
            make_face()
            with BuildLine():
                ThreePointArc((-3.802511188, 12.880136927), (-4.472627743, 12.465932528), (-5.22202079, 12.222968452))
                ThreePointArc((-5.22202079, 12.222968452), (-4.410410464, 11.390129206), (-3.467895523, 10.708955134))
                ThreePointArc((-3.467895523, 10.708955134), (-3.3370658, 11.485811019), (-3.02524808, 12.20926882))
                ThreePointArc((-3.02524808, 12.20926882), (-3.43031925, 12.525656049), (-3.802511188, 12.880136927))
            make_face()
        extrude(amount=-ENL_V_MAT_EXTRU_2_DEPTH, mode=Mode.SUBTRACT)


solid = part.part
